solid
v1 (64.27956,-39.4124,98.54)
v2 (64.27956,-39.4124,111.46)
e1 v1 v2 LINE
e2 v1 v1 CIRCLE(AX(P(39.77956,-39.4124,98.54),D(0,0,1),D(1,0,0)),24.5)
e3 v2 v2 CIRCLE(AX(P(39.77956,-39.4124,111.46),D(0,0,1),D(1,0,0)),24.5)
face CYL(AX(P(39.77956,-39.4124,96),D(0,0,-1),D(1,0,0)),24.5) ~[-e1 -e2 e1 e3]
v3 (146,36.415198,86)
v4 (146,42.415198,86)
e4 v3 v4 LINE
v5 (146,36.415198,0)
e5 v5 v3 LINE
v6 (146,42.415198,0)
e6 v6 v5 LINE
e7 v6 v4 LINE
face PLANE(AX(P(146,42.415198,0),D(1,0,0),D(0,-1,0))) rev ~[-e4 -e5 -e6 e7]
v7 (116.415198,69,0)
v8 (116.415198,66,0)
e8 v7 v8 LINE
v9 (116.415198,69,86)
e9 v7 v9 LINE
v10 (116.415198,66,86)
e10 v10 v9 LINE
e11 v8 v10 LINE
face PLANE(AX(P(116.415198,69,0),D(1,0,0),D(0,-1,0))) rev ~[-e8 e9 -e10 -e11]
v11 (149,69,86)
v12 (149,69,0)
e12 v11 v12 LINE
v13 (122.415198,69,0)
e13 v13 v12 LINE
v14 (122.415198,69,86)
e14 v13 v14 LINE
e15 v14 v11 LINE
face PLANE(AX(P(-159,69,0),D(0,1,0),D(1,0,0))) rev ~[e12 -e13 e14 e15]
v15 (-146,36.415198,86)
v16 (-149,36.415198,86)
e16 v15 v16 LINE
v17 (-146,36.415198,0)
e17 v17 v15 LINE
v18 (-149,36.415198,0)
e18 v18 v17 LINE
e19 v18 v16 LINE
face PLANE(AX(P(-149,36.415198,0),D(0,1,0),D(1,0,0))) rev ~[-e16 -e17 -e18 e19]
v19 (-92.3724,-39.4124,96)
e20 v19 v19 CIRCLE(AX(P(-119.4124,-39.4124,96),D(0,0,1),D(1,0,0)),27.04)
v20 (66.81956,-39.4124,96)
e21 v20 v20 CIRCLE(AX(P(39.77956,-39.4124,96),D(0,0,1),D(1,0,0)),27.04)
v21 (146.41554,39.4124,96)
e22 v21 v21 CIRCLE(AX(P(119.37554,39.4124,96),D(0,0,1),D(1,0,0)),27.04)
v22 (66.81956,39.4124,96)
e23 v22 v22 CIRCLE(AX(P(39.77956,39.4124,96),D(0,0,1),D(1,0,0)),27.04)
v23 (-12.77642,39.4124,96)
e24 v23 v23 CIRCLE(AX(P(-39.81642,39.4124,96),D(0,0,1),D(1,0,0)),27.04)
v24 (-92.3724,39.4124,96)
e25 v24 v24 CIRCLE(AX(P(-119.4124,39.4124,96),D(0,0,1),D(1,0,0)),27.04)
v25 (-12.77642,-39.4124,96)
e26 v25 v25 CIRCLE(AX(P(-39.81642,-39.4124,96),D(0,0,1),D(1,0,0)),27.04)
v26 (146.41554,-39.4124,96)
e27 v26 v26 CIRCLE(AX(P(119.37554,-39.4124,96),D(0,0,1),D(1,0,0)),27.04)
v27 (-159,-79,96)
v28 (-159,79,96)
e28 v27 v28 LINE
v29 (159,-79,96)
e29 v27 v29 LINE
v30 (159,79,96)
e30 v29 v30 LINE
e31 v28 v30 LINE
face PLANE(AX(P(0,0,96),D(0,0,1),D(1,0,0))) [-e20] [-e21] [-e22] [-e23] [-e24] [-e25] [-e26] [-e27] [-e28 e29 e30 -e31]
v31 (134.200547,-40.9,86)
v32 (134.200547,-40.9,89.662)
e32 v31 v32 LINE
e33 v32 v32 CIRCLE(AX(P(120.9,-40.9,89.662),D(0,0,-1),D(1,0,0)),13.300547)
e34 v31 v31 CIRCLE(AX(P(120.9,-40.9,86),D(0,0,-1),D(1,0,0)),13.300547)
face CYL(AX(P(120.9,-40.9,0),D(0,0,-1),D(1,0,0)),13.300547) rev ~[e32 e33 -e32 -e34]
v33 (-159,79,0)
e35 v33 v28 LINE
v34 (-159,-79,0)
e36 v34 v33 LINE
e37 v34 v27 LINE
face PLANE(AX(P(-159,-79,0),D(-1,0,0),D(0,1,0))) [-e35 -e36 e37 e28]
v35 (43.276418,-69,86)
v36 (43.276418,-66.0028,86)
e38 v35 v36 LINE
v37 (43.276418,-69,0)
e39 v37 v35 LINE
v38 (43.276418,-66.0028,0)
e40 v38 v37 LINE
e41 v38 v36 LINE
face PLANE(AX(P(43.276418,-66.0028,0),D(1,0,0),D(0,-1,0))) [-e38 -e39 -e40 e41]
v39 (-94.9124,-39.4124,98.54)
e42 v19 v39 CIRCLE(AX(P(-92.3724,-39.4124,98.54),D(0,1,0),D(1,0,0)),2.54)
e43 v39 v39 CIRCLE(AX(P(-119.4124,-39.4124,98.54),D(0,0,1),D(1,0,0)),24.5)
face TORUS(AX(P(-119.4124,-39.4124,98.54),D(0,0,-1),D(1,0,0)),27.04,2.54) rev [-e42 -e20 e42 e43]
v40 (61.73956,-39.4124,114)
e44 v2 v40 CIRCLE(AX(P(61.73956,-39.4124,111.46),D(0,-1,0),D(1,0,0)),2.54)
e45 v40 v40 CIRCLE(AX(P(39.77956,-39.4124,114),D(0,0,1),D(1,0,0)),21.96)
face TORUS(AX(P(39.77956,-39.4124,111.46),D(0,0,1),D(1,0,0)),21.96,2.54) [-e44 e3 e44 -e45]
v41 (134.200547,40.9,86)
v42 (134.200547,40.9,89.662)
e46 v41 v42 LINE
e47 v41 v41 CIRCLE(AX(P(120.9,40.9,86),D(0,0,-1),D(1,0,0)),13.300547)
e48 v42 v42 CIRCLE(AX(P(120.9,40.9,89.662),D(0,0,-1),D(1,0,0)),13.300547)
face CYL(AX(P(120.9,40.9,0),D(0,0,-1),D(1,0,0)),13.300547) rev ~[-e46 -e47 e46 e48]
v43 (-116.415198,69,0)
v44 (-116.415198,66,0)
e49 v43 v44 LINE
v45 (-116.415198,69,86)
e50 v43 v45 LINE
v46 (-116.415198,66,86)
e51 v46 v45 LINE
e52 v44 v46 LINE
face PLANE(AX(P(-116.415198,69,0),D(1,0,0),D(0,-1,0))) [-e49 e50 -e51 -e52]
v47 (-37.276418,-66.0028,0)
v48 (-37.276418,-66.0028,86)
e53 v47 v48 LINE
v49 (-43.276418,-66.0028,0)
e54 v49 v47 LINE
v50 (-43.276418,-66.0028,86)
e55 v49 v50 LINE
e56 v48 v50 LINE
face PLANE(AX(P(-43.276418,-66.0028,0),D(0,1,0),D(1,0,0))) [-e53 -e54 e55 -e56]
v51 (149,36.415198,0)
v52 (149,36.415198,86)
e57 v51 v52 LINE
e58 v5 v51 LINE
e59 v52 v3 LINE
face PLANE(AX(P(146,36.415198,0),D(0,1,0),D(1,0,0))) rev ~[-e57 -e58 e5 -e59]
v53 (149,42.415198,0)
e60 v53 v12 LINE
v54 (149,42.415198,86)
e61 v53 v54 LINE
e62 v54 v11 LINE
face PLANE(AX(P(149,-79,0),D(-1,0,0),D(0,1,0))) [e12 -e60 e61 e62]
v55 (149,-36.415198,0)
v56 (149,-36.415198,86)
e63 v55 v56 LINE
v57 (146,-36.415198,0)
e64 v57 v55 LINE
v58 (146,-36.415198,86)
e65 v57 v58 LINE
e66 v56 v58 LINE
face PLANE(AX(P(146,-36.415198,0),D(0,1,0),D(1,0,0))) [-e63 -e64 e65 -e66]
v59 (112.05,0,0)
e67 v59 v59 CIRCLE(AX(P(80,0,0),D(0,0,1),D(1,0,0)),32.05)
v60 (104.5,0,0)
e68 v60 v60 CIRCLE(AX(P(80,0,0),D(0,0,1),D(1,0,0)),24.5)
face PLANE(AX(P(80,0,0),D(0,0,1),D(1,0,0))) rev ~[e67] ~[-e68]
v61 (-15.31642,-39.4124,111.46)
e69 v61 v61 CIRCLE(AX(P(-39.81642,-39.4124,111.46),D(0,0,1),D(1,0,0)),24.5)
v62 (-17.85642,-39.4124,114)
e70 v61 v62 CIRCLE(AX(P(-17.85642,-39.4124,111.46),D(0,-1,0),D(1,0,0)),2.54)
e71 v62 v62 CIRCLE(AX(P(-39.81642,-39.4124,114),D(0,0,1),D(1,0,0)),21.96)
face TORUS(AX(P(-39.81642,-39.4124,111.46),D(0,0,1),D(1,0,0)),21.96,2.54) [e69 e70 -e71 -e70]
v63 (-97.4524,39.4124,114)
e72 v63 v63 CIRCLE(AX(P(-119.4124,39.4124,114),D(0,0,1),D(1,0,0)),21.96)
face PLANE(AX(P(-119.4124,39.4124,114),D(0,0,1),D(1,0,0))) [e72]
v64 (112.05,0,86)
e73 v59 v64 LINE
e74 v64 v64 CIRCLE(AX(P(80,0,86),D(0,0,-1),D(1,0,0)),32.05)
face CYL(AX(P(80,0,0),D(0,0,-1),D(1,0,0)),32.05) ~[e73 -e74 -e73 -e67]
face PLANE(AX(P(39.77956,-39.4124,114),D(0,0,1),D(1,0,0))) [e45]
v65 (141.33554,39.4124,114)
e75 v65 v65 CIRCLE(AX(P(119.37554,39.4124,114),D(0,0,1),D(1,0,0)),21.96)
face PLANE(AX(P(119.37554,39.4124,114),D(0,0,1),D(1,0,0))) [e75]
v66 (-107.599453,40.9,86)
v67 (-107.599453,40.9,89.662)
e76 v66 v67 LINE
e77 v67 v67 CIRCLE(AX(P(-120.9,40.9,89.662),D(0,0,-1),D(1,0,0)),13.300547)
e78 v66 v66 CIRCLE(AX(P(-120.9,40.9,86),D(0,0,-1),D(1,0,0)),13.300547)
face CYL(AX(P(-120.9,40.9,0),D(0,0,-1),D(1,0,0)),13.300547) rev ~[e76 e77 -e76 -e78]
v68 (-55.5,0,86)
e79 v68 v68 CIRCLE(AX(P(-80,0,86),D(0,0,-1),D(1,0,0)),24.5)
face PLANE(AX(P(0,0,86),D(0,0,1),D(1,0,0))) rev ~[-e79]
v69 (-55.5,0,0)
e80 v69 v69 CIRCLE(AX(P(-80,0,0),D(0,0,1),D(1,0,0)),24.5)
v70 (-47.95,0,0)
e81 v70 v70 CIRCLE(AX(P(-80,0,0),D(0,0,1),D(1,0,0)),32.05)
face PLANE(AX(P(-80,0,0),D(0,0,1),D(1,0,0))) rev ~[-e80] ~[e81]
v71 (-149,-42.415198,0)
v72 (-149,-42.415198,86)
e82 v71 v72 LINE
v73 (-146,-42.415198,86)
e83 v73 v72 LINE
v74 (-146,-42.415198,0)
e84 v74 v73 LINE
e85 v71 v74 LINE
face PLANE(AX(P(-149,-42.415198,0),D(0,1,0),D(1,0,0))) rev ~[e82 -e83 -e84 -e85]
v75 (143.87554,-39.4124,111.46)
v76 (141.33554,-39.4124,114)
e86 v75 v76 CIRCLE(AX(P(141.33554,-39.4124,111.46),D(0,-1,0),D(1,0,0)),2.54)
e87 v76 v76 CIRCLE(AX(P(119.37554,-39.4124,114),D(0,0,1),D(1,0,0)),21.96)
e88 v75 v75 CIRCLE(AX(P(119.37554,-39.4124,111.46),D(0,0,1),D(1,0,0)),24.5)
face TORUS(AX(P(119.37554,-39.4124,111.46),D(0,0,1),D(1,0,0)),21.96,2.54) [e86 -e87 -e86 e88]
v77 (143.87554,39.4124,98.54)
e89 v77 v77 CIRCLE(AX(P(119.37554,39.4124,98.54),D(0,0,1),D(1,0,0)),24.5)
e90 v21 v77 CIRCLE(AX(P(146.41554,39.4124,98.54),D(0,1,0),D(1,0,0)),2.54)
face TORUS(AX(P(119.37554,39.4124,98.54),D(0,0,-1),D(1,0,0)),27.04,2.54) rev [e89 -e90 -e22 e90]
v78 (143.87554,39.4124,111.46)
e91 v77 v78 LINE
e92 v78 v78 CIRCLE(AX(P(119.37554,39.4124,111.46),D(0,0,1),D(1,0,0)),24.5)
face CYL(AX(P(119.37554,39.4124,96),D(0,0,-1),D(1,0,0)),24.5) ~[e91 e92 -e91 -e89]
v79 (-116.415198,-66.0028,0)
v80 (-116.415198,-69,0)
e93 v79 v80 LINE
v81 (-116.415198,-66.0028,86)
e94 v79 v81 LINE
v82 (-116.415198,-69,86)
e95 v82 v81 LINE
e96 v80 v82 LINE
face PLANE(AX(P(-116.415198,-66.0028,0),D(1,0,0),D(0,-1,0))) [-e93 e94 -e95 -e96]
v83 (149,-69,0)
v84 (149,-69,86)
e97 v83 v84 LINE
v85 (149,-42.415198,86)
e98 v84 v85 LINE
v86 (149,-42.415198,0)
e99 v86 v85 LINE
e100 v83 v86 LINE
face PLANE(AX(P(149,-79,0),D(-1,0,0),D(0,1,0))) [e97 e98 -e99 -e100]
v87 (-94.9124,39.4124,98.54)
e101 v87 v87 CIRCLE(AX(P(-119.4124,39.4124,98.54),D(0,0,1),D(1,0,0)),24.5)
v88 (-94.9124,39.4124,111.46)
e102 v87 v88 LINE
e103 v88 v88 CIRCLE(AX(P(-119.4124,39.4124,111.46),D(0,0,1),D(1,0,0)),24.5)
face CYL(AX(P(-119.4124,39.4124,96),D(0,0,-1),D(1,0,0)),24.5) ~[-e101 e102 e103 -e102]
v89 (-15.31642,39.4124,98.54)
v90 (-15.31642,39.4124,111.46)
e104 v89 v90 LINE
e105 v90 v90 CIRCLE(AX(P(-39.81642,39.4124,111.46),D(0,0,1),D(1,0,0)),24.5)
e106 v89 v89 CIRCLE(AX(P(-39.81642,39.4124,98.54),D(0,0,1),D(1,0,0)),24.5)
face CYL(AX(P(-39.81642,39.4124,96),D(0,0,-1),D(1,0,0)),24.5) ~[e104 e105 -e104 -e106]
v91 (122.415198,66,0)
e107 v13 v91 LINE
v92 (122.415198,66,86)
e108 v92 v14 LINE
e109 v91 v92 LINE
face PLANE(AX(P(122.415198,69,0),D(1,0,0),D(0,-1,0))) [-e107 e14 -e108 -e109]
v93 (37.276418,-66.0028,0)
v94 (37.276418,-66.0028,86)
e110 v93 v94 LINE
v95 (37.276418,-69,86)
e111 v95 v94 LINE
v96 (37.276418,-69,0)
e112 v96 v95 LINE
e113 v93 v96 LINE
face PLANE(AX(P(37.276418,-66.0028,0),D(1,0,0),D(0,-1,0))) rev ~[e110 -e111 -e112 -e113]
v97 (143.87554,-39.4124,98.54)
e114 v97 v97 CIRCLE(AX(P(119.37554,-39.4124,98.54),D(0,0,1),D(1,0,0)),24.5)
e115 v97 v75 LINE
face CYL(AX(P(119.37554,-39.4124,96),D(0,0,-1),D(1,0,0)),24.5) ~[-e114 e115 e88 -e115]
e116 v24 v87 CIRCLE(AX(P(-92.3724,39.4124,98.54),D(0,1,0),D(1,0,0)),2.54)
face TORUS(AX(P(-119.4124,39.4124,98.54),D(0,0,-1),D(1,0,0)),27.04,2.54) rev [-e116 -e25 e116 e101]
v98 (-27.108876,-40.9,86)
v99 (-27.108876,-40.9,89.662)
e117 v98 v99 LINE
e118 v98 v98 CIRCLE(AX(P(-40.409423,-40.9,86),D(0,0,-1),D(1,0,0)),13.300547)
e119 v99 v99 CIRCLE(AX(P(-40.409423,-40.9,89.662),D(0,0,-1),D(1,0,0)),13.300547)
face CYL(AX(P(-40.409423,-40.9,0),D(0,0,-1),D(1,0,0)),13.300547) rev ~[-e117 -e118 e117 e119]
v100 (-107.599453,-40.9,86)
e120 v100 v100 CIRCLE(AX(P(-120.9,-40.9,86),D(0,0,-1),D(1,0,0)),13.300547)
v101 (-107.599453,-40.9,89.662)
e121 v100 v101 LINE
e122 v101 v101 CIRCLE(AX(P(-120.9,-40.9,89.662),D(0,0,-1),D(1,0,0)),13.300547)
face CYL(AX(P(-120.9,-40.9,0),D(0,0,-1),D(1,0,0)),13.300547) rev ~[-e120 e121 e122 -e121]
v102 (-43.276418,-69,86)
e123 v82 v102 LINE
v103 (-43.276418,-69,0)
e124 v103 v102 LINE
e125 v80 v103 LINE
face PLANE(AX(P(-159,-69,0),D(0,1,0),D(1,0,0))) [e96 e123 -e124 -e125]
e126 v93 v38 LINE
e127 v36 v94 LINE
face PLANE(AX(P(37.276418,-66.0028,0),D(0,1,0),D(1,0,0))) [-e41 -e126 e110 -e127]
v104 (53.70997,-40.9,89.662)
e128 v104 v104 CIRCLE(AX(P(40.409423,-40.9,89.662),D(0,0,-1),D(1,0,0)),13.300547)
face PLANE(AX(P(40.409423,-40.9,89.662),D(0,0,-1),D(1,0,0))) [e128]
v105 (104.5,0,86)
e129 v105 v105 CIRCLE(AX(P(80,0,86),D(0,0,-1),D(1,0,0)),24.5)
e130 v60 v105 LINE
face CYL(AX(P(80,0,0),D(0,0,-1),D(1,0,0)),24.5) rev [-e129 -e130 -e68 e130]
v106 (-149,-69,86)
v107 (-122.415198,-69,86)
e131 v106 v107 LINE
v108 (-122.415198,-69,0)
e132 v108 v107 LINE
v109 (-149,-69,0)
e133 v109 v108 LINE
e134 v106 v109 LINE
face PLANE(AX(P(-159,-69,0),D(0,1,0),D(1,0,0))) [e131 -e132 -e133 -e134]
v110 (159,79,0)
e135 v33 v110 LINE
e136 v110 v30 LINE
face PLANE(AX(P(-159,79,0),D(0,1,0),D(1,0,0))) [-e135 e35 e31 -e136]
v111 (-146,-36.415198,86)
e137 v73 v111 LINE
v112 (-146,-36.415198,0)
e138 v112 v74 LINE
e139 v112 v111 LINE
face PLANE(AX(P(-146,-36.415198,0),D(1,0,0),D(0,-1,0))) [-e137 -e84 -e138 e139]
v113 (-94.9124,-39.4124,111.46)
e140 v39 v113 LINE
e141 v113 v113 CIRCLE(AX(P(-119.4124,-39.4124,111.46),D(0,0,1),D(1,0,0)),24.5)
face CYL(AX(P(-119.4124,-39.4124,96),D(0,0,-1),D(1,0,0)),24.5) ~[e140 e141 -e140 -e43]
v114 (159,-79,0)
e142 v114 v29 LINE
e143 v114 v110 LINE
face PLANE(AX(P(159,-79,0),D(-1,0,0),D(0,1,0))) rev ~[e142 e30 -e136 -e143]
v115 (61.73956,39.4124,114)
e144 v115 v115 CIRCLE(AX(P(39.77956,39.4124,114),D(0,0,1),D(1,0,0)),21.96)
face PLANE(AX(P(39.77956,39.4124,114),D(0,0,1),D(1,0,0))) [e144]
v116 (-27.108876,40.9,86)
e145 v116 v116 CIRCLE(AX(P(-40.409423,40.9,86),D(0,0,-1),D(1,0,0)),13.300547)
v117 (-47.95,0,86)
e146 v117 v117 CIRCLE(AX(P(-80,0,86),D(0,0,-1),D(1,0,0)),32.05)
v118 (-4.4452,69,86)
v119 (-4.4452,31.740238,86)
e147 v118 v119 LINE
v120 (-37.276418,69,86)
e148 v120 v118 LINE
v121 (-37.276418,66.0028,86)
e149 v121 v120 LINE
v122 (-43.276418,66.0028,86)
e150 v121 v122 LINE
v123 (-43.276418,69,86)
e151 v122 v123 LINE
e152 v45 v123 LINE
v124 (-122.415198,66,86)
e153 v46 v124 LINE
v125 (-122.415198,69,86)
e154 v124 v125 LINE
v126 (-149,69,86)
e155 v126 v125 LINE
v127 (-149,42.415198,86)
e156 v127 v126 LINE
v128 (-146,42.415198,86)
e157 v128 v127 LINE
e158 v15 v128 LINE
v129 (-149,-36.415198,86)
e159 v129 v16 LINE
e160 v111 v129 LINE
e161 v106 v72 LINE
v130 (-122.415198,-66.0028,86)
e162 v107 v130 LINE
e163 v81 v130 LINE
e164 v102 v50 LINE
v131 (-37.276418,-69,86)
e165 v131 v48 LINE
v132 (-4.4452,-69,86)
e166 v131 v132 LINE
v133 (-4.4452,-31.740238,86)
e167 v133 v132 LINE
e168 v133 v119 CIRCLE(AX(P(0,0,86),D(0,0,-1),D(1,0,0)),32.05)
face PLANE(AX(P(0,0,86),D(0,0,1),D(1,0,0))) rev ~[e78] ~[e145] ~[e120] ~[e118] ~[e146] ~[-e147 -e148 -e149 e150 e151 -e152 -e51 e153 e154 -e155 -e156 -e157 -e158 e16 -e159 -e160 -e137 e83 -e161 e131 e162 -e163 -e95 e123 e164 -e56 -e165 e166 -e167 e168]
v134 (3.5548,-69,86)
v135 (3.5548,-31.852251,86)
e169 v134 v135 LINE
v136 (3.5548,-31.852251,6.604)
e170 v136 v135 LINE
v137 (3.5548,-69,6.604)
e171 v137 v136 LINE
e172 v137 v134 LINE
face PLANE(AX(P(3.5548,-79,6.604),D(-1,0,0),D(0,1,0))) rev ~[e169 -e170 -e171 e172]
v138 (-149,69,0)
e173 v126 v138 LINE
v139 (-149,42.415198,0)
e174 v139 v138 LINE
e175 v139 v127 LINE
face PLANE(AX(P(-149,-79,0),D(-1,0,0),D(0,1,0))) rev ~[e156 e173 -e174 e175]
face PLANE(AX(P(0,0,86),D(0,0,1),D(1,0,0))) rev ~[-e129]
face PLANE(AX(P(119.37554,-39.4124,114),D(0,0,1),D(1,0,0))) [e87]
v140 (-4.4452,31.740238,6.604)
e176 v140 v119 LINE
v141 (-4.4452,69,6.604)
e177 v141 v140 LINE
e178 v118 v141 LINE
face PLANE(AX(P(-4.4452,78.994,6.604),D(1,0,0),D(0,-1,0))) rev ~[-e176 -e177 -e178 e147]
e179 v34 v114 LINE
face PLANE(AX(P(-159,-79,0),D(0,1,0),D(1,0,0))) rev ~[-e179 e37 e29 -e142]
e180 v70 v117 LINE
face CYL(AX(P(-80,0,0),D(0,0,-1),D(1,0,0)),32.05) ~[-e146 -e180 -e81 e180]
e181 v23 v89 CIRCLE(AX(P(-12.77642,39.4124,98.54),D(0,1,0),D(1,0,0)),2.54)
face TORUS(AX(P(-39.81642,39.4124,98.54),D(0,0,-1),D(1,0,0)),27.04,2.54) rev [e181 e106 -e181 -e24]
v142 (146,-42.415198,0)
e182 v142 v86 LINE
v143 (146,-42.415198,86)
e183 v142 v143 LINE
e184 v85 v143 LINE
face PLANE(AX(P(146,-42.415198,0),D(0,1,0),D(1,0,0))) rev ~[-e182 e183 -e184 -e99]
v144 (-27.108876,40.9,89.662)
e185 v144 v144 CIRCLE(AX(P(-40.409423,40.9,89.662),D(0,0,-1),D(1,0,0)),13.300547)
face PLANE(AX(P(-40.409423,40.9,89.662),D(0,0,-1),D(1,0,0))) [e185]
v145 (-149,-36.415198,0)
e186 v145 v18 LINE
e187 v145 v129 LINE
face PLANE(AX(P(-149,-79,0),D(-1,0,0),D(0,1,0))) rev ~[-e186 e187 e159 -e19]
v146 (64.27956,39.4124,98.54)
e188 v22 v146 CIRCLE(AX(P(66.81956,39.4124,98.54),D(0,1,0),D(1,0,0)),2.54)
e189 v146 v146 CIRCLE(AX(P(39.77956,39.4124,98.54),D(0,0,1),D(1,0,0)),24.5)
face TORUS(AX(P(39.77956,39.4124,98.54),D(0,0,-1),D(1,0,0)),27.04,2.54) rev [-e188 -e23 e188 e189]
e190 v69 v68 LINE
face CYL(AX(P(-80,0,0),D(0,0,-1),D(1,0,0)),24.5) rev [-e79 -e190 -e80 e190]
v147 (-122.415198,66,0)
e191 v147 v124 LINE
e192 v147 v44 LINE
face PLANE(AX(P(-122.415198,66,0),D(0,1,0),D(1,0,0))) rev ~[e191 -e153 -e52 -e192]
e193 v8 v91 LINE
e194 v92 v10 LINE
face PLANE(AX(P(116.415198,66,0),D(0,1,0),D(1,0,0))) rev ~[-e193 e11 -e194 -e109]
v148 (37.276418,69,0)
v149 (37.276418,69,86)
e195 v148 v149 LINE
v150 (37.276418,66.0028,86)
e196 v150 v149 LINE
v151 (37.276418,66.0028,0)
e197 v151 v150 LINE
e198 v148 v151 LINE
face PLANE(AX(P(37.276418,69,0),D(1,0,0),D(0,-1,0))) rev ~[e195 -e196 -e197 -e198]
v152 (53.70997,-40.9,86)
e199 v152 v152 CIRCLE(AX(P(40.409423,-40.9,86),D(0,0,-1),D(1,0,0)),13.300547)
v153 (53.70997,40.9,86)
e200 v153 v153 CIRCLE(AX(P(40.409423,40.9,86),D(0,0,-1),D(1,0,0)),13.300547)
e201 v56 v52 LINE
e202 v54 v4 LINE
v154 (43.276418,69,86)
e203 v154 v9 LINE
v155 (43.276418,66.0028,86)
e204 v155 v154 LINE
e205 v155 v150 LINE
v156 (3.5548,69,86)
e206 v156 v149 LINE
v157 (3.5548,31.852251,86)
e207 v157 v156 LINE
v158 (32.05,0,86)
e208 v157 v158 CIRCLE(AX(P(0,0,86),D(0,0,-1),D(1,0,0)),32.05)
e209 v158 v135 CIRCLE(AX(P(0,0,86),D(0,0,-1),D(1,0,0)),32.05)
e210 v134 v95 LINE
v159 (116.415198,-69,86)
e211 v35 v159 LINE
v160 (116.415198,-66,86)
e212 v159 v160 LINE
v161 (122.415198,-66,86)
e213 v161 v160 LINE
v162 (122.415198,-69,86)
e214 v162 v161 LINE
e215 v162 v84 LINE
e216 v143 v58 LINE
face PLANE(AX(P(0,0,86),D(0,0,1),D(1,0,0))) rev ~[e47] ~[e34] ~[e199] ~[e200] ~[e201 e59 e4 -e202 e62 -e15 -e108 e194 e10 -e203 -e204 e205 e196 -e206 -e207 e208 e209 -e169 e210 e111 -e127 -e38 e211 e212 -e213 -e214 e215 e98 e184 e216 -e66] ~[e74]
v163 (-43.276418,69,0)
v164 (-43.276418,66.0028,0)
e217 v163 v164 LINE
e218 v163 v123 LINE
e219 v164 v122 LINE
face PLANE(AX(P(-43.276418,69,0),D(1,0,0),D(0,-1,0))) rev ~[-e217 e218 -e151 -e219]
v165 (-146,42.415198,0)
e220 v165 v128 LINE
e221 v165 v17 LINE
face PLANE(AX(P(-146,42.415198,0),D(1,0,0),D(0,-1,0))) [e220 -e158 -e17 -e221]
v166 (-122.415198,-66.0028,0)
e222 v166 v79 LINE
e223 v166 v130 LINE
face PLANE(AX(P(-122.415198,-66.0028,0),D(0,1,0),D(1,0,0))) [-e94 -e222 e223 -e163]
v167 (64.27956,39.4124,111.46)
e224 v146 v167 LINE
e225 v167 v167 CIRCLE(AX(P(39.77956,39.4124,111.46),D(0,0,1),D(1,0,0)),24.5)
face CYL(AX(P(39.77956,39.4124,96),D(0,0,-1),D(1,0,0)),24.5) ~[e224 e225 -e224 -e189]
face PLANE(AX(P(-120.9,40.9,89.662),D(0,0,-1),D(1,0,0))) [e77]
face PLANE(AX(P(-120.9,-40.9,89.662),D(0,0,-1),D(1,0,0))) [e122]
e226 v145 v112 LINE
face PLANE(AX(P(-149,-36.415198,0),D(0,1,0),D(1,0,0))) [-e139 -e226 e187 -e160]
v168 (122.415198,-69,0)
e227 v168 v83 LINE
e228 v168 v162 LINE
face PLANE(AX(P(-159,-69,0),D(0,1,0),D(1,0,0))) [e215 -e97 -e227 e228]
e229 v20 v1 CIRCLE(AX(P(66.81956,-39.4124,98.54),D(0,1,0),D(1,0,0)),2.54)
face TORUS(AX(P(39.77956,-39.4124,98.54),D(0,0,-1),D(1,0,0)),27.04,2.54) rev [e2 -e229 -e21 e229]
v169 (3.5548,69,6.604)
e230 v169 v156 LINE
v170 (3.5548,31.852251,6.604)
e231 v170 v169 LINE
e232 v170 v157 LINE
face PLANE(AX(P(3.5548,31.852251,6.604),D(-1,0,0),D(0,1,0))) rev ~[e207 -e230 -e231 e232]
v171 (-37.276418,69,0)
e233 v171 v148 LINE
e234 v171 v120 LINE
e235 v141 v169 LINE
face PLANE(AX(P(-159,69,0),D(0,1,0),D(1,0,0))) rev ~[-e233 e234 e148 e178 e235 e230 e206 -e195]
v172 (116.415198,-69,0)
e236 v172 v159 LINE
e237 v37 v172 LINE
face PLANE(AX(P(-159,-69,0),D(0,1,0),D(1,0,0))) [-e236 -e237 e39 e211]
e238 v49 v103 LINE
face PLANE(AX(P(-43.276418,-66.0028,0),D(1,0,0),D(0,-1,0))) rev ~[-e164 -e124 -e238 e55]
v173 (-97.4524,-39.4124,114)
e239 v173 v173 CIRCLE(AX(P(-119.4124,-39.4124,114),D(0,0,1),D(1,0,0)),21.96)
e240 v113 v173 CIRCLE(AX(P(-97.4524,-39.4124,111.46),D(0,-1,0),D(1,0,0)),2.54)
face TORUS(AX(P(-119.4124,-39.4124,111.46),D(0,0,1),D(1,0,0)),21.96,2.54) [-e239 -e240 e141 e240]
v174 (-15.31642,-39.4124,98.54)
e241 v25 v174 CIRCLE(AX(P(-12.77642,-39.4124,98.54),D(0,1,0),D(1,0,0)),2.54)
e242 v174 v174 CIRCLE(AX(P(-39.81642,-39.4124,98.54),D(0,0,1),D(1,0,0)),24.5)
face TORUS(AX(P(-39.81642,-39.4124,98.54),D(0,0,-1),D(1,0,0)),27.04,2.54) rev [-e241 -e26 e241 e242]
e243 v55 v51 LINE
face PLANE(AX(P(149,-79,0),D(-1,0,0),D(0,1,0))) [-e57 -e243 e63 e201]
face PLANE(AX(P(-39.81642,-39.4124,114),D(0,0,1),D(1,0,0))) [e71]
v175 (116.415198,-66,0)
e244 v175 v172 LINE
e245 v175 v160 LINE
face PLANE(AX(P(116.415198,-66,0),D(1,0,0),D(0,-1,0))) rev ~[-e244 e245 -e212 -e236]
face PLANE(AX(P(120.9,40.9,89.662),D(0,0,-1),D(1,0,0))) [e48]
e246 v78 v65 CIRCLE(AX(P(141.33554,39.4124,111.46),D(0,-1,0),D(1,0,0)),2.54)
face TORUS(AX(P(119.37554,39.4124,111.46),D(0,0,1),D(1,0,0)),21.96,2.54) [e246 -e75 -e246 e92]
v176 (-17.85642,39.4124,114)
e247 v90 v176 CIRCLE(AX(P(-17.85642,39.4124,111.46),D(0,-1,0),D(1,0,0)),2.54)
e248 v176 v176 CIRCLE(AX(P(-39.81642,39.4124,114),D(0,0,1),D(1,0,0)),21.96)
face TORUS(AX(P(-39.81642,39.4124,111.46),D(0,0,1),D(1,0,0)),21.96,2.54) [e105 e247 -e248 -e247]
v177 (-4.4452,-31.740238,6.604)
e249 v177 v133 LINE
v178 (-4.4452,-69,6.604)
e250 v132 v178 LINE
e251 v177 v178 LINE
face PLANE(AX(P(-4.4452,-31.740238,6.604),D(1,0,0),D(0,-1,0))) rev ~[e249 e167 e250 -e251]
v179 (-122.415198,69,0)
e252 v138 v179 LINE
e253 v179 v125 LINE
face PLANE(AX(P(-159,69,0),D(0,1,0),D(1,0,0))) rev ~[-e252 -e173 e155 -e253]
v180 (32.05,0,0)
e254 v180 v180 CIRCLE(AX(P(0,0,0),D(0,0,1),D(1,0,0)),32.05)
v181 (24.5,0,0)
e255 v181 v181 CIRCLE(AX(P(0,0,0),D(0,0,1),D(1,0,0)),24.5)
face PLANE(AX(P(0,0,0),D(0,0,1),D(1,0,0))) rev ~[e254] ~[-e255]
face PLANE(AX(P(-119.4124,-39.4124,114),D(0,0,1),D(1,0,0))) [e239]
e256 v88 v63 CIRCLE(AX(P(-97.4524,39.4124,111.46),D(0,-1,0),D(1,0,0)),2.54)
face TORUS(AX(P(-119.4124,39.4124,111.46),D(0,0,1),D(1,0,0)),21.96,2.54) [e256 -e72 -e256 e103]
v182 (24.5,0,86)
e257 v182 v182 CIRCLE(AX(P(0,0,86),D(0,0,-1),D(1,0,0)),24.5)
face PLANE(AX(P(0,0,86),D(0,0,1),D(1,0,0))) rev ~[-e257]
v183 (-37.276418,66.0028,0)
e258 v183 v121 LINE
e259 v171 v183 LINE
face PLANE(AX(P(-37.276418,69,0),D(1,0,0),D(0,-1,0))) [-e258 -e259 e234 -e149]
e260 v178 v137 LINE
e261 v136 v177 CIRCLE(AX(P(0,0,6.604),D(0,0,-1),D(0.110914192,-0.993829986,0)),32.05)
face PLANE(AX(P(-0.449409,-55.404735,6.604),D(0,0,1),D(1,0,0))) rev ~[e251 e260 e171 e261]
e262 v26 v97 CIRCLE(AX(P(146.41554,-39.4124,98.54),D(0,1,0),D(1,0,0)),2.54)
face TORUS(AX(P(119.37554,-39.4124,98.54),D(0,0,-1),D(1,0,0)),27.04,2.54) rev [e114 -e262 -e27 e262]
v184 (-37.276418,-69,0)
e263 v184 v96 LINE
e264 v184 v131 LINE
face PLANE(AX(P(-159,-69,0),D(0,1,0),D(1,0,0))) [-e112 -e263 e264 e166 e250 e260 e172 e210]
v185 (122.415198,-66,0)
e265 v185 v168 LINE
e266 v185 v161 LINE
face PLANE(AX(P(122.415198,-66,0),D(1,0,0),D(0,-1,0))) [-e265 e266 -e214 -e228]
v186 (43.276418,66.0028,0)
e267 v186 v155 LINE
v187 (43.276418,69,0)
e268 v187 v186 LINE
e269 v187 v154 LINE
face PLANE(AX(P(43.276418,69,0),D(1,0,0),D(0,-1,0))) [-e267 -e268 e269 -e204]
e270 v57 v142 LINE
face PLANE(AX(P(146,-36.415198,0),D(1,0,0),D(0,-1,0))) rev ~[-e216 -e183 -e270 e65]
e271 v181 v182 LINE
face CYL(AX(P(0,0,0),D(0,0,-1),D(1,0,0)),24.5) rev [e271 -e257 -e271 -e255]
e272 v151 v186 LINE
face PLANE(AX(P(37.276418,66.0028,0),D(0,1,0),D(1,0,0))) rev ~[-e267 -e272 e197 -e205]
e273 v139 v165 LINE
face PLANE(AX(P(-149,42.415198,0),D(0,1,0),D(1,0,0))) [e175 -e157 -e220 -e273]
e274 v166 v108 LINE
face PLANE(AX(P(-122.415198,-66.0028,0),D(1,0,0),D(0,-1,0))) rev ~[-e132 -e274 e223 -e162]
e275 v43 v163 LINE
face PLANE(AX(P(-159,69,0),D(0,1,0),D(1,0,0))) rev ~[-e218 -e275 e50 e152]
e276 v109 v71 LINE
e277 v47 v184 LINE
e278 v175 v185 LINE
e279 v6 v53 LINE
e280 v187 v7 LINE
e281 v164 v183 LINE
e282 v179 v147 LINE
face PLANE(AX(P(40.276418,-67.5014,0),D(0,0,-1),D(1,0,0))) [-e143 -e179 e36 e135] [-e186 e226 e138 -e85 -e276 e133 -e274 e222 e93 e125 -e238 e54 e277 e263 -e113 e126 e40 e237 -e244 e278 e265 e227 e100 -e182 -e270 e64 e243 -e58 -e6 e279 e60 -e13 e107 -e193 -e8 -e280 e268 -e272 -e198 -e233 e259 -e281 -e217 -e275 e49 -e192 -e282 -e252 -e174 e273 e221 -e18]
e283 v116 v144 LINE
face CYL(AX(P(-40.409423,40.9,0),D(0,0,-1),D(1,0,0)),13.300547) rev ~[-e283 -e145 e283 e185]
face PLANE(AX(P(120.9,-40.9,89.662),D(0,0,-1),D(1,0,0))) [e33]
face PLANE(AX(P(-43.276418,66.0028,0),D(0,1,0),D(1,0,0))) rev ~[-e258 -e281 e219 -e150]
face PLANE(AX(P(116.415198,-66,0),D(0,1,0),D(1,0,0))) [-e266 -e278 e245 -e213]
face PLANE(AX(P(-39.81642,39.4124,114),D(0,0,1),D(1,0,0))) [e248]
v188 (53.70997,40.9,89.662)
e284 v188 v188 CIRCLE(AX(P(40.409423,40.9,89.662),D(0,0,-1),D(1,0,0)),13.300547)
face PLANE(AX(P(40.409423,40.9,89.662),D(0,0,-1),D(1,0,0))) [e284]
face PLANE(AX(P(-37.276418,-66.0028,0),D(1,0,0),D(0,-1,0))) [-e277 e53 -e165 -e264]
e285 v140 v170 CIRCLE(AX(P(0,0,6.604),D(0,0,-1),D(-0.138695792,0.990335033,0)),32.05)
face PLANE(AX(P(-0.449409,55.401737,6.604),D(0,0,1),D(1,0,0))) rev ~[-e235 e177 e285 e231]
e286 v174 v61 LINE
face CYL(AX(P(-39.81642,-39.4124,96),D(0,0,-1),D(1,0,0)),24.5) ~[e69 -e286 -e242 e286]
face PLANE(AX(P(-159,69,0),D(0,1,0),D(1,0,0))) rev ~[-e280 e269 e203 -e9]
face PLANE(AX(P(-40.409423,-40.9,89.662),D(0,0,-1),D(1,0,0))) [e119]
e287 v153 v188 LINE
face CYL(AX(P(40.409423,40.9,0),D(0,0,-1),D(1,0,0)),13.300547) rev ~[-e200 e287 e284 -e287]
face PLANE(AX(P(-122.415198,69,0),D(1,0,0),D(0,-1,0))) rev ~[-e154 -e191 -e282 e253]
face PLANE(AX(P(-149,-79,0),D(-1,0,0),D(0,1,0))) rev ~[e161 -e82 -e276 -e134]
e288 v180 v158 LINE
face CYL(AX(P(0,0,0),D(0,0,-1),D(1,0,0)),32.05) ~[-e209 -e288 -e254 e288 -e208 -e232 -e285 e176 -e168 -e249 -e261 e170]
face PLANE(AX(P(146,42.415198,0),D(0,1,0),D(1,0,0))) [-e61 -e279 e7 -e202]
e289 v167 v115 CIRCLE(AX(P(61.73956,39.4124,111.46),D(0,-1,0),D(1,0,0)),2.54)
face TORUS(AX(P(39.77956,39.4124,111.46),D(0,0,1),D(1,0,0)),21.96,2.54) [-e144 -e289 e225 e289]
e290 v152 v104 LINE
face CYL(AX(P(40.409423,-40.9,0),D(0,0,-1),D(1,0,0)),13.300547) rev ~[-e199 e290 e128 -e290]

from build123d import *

# Parameters (mm, degrees)
F0_W      = 318
F0_H      = 158
F1_DEPTH  = 96
F2_T      = -10
F3_R      = 32.05
F3_R_2    = 24.5
F4_DEPTH  = 94.742
F5_R      = 24.5
F6_DEPTH  = 18
F7_W      = 6
F7_H      = 2.9972
F7_H_2    = 3
F7_W_2    = 3
F7_H_3    = 6
F8_DEPTH  = 96
F10_START = 6.604
F10_DEPTH = 79.396
F11_R     = 2.54
F12_R     = 13.300546755
F13_DEPTH = 89.662


with BuildPart() as f1:
    # F0 (on Top) → F1 (new body)
    with BuildSketch(Plane.XY):
        Rectangle(F0_W, F0_H)
    extrude(amount=F1_DEPTH)

    # F2
    f2_openings = [f1.faces().sort_by_distance(p)[0] for p in [
        (0, 0, 0),
    ]]
    offset(amount=F2_T, openings=f2_openings)

    # F3 (on Top) → F4 (join)
    with BuildSketch(Plane.XY):
        with Locations((-80, 0)):
            Circle(F3_R)
        with Locations((-80, 0)):
            Circle(F3_R_2, mode=Mode.SUBTRACT)
        Circle(F3_R)
        Circle(F3_R_2, mode=Mode.SUBTRACT)
        with Locations((80, 0)):
            Circle(F3_R)
        with Locations((80, 0)):
            Circle(F3_R_2, mode=Mode.SUBTRACT)
    extrude(amount=F4_DEPTH)

    # F5 (on face) → F6 (join)
    with BuildSketch(Plane.XY.offset(96)):
        with Locations((-119.4124, 39.4124)):
            Circle(F5_R)
        with Locations((-39.81642, 39.4124)):
            Circle(F5_R)
        with Locations((39.77956, 39.4124)):
            Circle(F5_R)
        with Locations((119.37554, 39.4124)):
            Circle(F5_R)
        with Locations((119.37554, -39.4124)):
            Circle(F5_R)
        with Locations((39.77956, -39.4124)):
            Circle(F5_R)
        with Locations((-39.81642, -39.4124)):
            Circle(F5_R)
        with Locations((-119.4124, -39.4124)):
            Circle(F5_R)
    extrude(amount=F6_DEPTH)

    # F7 (on face) → F8 (join)
    with BuildSketch(Plane(origin=(0, 0, 0), x_dir=(1, 0, 0), z_dir=(0, 0, -1))):
        with Locations((40.2764182, 67.5014)):
            Rectangle(F7_W, F7_H)
        with Locations((119.4151982, 67.5)):
            Rectangle(F7_W, F7_H_2)
        with Locations((147.5, 39.4151982)):
            Rectangle(F7_W_2, F7_H_3)
        with Locations((-40.2764182, 67.5014)):
            Rectangle(F7_W, F7_H)
        with Locations((-119.4151982, 67.5014)):
            Rectangle(F7_W, F7_H)
        with Locations((-147.5, 39.4151982)):
            Rectangle(F7_W_2, F7_H_3)
        with Locations((-147.5, -39.4151982)):
            Rectangle(F7_W_2, F7_H_3)
        with Locations((-119.4151982, -67.5)):
            Rectangle(F7_W, F7_H_2)
        with Locations((-40.2764182, -67.5014)):
            Rectangle(F7_W, F7_H)
        with Locations((40.2764182, -67.5014)):
            Rectangle(F7_W, F7_H)
        with Locations((119.4151982, -67.5)):
            Rectangle(F7_W, F7_H_2)
        with Locations((147.5, -39.4151982)):
            Rectangle(F7_W_2, F7_H_3)
    extrude(amount=-F8_DEPTH)

    # F9 (on Top) → F10 (join)
    with BuildSketch(Plane.XY.offset(F10_START)):
        with BuildLine():
            Line((-4.4452001303, -31.7402378032), (-4.4452001303, -79))
            Line((-4.4452001303, -79), (3.5547998697, -79))
            Line((3.5547998697, -79), (3.5547998697, -31.8522510647))
            ThreePointArc((3.5547998697, -31.8522510647), (-0.4487091472, -32.046858818), (-4.4452001303, -31.7402378032))
        make_face()
        with BuildLine():
            Line((3.5547998697, 78.994), (-4.4452001303, 78.994))
            Line((-4.4452001303, 78.994), (-4.4452001303, 31.7402378032))
            ThreePointArc((-4.4452001303, 31.7402378032), (-0.4487091472, 32.046858818), (3.5547998697, 31.8522510647))
            Line((3.5547998697, 31.8522510647), (3.5547998697, 78.994))
        make_face()
    extrude(amount=F10_DEPTH)

    # F11
    f11_edges = [f1.edges().sort_by_distance(p)[0] for p in [
        (-143.9124, -39.4124, 114),
        (-143.9124, 39.4124, 114),
        (-64.31642, 39.4124, 114),
        (-64.31642, -39.4124, 114),
        (15.27956, -39.4124, 114),
        (15.27956, 39.4124, 114),
        (94.87554, 39.4124, 114),
        (94.87554, -39.4124, 114),
        (94.87554, -39.4124, 96),
        (94.87554, 39.4124, 96),
        (15.27956, -39.4124, 96),
        (-64.31642, -39.4124, 96),
        (-143.9124, -39.4124, 96),
        (-143.9124, 39.4124, 96),
        (-64.31642, 39.4124, 96),
        (15.27956, 39.4124, 96),
    ]]
    fillet(f11_edges, radius=F11_R)

    # F12 (on face) → F13 (cut)
    with BuildSketch(Plane(origin=(0, 0, 0), x_dir=(1, 0, 0), z_dir=(0, 0, -1))):
        with Locations((120.9, -40.9)):
            Circle(F12_R)
        with Locations((40.4094228188, -40.9)):
            Circle(F12_R)
        with Locations((-40.4094228188, -40.9)):
            Circle(F12_R)
        with Locations((-120.9, -40.9)):
            Circle(F12_R)
        with Locations((-120.9, 40.9)):
            Circle(F12_R)
        with Locations((-40.4094228188, 40.9)):
            Circle(F12_R)
        with Locations((40.4094228188, 40.9)):
            Circle(F12_R)
        with Locations((120.9, 40.9)):
            Circle(F12_R)
    extrude(amount=-F13_DEPTH, mode=Mode.SUBTRACT)


solid = f1.part
